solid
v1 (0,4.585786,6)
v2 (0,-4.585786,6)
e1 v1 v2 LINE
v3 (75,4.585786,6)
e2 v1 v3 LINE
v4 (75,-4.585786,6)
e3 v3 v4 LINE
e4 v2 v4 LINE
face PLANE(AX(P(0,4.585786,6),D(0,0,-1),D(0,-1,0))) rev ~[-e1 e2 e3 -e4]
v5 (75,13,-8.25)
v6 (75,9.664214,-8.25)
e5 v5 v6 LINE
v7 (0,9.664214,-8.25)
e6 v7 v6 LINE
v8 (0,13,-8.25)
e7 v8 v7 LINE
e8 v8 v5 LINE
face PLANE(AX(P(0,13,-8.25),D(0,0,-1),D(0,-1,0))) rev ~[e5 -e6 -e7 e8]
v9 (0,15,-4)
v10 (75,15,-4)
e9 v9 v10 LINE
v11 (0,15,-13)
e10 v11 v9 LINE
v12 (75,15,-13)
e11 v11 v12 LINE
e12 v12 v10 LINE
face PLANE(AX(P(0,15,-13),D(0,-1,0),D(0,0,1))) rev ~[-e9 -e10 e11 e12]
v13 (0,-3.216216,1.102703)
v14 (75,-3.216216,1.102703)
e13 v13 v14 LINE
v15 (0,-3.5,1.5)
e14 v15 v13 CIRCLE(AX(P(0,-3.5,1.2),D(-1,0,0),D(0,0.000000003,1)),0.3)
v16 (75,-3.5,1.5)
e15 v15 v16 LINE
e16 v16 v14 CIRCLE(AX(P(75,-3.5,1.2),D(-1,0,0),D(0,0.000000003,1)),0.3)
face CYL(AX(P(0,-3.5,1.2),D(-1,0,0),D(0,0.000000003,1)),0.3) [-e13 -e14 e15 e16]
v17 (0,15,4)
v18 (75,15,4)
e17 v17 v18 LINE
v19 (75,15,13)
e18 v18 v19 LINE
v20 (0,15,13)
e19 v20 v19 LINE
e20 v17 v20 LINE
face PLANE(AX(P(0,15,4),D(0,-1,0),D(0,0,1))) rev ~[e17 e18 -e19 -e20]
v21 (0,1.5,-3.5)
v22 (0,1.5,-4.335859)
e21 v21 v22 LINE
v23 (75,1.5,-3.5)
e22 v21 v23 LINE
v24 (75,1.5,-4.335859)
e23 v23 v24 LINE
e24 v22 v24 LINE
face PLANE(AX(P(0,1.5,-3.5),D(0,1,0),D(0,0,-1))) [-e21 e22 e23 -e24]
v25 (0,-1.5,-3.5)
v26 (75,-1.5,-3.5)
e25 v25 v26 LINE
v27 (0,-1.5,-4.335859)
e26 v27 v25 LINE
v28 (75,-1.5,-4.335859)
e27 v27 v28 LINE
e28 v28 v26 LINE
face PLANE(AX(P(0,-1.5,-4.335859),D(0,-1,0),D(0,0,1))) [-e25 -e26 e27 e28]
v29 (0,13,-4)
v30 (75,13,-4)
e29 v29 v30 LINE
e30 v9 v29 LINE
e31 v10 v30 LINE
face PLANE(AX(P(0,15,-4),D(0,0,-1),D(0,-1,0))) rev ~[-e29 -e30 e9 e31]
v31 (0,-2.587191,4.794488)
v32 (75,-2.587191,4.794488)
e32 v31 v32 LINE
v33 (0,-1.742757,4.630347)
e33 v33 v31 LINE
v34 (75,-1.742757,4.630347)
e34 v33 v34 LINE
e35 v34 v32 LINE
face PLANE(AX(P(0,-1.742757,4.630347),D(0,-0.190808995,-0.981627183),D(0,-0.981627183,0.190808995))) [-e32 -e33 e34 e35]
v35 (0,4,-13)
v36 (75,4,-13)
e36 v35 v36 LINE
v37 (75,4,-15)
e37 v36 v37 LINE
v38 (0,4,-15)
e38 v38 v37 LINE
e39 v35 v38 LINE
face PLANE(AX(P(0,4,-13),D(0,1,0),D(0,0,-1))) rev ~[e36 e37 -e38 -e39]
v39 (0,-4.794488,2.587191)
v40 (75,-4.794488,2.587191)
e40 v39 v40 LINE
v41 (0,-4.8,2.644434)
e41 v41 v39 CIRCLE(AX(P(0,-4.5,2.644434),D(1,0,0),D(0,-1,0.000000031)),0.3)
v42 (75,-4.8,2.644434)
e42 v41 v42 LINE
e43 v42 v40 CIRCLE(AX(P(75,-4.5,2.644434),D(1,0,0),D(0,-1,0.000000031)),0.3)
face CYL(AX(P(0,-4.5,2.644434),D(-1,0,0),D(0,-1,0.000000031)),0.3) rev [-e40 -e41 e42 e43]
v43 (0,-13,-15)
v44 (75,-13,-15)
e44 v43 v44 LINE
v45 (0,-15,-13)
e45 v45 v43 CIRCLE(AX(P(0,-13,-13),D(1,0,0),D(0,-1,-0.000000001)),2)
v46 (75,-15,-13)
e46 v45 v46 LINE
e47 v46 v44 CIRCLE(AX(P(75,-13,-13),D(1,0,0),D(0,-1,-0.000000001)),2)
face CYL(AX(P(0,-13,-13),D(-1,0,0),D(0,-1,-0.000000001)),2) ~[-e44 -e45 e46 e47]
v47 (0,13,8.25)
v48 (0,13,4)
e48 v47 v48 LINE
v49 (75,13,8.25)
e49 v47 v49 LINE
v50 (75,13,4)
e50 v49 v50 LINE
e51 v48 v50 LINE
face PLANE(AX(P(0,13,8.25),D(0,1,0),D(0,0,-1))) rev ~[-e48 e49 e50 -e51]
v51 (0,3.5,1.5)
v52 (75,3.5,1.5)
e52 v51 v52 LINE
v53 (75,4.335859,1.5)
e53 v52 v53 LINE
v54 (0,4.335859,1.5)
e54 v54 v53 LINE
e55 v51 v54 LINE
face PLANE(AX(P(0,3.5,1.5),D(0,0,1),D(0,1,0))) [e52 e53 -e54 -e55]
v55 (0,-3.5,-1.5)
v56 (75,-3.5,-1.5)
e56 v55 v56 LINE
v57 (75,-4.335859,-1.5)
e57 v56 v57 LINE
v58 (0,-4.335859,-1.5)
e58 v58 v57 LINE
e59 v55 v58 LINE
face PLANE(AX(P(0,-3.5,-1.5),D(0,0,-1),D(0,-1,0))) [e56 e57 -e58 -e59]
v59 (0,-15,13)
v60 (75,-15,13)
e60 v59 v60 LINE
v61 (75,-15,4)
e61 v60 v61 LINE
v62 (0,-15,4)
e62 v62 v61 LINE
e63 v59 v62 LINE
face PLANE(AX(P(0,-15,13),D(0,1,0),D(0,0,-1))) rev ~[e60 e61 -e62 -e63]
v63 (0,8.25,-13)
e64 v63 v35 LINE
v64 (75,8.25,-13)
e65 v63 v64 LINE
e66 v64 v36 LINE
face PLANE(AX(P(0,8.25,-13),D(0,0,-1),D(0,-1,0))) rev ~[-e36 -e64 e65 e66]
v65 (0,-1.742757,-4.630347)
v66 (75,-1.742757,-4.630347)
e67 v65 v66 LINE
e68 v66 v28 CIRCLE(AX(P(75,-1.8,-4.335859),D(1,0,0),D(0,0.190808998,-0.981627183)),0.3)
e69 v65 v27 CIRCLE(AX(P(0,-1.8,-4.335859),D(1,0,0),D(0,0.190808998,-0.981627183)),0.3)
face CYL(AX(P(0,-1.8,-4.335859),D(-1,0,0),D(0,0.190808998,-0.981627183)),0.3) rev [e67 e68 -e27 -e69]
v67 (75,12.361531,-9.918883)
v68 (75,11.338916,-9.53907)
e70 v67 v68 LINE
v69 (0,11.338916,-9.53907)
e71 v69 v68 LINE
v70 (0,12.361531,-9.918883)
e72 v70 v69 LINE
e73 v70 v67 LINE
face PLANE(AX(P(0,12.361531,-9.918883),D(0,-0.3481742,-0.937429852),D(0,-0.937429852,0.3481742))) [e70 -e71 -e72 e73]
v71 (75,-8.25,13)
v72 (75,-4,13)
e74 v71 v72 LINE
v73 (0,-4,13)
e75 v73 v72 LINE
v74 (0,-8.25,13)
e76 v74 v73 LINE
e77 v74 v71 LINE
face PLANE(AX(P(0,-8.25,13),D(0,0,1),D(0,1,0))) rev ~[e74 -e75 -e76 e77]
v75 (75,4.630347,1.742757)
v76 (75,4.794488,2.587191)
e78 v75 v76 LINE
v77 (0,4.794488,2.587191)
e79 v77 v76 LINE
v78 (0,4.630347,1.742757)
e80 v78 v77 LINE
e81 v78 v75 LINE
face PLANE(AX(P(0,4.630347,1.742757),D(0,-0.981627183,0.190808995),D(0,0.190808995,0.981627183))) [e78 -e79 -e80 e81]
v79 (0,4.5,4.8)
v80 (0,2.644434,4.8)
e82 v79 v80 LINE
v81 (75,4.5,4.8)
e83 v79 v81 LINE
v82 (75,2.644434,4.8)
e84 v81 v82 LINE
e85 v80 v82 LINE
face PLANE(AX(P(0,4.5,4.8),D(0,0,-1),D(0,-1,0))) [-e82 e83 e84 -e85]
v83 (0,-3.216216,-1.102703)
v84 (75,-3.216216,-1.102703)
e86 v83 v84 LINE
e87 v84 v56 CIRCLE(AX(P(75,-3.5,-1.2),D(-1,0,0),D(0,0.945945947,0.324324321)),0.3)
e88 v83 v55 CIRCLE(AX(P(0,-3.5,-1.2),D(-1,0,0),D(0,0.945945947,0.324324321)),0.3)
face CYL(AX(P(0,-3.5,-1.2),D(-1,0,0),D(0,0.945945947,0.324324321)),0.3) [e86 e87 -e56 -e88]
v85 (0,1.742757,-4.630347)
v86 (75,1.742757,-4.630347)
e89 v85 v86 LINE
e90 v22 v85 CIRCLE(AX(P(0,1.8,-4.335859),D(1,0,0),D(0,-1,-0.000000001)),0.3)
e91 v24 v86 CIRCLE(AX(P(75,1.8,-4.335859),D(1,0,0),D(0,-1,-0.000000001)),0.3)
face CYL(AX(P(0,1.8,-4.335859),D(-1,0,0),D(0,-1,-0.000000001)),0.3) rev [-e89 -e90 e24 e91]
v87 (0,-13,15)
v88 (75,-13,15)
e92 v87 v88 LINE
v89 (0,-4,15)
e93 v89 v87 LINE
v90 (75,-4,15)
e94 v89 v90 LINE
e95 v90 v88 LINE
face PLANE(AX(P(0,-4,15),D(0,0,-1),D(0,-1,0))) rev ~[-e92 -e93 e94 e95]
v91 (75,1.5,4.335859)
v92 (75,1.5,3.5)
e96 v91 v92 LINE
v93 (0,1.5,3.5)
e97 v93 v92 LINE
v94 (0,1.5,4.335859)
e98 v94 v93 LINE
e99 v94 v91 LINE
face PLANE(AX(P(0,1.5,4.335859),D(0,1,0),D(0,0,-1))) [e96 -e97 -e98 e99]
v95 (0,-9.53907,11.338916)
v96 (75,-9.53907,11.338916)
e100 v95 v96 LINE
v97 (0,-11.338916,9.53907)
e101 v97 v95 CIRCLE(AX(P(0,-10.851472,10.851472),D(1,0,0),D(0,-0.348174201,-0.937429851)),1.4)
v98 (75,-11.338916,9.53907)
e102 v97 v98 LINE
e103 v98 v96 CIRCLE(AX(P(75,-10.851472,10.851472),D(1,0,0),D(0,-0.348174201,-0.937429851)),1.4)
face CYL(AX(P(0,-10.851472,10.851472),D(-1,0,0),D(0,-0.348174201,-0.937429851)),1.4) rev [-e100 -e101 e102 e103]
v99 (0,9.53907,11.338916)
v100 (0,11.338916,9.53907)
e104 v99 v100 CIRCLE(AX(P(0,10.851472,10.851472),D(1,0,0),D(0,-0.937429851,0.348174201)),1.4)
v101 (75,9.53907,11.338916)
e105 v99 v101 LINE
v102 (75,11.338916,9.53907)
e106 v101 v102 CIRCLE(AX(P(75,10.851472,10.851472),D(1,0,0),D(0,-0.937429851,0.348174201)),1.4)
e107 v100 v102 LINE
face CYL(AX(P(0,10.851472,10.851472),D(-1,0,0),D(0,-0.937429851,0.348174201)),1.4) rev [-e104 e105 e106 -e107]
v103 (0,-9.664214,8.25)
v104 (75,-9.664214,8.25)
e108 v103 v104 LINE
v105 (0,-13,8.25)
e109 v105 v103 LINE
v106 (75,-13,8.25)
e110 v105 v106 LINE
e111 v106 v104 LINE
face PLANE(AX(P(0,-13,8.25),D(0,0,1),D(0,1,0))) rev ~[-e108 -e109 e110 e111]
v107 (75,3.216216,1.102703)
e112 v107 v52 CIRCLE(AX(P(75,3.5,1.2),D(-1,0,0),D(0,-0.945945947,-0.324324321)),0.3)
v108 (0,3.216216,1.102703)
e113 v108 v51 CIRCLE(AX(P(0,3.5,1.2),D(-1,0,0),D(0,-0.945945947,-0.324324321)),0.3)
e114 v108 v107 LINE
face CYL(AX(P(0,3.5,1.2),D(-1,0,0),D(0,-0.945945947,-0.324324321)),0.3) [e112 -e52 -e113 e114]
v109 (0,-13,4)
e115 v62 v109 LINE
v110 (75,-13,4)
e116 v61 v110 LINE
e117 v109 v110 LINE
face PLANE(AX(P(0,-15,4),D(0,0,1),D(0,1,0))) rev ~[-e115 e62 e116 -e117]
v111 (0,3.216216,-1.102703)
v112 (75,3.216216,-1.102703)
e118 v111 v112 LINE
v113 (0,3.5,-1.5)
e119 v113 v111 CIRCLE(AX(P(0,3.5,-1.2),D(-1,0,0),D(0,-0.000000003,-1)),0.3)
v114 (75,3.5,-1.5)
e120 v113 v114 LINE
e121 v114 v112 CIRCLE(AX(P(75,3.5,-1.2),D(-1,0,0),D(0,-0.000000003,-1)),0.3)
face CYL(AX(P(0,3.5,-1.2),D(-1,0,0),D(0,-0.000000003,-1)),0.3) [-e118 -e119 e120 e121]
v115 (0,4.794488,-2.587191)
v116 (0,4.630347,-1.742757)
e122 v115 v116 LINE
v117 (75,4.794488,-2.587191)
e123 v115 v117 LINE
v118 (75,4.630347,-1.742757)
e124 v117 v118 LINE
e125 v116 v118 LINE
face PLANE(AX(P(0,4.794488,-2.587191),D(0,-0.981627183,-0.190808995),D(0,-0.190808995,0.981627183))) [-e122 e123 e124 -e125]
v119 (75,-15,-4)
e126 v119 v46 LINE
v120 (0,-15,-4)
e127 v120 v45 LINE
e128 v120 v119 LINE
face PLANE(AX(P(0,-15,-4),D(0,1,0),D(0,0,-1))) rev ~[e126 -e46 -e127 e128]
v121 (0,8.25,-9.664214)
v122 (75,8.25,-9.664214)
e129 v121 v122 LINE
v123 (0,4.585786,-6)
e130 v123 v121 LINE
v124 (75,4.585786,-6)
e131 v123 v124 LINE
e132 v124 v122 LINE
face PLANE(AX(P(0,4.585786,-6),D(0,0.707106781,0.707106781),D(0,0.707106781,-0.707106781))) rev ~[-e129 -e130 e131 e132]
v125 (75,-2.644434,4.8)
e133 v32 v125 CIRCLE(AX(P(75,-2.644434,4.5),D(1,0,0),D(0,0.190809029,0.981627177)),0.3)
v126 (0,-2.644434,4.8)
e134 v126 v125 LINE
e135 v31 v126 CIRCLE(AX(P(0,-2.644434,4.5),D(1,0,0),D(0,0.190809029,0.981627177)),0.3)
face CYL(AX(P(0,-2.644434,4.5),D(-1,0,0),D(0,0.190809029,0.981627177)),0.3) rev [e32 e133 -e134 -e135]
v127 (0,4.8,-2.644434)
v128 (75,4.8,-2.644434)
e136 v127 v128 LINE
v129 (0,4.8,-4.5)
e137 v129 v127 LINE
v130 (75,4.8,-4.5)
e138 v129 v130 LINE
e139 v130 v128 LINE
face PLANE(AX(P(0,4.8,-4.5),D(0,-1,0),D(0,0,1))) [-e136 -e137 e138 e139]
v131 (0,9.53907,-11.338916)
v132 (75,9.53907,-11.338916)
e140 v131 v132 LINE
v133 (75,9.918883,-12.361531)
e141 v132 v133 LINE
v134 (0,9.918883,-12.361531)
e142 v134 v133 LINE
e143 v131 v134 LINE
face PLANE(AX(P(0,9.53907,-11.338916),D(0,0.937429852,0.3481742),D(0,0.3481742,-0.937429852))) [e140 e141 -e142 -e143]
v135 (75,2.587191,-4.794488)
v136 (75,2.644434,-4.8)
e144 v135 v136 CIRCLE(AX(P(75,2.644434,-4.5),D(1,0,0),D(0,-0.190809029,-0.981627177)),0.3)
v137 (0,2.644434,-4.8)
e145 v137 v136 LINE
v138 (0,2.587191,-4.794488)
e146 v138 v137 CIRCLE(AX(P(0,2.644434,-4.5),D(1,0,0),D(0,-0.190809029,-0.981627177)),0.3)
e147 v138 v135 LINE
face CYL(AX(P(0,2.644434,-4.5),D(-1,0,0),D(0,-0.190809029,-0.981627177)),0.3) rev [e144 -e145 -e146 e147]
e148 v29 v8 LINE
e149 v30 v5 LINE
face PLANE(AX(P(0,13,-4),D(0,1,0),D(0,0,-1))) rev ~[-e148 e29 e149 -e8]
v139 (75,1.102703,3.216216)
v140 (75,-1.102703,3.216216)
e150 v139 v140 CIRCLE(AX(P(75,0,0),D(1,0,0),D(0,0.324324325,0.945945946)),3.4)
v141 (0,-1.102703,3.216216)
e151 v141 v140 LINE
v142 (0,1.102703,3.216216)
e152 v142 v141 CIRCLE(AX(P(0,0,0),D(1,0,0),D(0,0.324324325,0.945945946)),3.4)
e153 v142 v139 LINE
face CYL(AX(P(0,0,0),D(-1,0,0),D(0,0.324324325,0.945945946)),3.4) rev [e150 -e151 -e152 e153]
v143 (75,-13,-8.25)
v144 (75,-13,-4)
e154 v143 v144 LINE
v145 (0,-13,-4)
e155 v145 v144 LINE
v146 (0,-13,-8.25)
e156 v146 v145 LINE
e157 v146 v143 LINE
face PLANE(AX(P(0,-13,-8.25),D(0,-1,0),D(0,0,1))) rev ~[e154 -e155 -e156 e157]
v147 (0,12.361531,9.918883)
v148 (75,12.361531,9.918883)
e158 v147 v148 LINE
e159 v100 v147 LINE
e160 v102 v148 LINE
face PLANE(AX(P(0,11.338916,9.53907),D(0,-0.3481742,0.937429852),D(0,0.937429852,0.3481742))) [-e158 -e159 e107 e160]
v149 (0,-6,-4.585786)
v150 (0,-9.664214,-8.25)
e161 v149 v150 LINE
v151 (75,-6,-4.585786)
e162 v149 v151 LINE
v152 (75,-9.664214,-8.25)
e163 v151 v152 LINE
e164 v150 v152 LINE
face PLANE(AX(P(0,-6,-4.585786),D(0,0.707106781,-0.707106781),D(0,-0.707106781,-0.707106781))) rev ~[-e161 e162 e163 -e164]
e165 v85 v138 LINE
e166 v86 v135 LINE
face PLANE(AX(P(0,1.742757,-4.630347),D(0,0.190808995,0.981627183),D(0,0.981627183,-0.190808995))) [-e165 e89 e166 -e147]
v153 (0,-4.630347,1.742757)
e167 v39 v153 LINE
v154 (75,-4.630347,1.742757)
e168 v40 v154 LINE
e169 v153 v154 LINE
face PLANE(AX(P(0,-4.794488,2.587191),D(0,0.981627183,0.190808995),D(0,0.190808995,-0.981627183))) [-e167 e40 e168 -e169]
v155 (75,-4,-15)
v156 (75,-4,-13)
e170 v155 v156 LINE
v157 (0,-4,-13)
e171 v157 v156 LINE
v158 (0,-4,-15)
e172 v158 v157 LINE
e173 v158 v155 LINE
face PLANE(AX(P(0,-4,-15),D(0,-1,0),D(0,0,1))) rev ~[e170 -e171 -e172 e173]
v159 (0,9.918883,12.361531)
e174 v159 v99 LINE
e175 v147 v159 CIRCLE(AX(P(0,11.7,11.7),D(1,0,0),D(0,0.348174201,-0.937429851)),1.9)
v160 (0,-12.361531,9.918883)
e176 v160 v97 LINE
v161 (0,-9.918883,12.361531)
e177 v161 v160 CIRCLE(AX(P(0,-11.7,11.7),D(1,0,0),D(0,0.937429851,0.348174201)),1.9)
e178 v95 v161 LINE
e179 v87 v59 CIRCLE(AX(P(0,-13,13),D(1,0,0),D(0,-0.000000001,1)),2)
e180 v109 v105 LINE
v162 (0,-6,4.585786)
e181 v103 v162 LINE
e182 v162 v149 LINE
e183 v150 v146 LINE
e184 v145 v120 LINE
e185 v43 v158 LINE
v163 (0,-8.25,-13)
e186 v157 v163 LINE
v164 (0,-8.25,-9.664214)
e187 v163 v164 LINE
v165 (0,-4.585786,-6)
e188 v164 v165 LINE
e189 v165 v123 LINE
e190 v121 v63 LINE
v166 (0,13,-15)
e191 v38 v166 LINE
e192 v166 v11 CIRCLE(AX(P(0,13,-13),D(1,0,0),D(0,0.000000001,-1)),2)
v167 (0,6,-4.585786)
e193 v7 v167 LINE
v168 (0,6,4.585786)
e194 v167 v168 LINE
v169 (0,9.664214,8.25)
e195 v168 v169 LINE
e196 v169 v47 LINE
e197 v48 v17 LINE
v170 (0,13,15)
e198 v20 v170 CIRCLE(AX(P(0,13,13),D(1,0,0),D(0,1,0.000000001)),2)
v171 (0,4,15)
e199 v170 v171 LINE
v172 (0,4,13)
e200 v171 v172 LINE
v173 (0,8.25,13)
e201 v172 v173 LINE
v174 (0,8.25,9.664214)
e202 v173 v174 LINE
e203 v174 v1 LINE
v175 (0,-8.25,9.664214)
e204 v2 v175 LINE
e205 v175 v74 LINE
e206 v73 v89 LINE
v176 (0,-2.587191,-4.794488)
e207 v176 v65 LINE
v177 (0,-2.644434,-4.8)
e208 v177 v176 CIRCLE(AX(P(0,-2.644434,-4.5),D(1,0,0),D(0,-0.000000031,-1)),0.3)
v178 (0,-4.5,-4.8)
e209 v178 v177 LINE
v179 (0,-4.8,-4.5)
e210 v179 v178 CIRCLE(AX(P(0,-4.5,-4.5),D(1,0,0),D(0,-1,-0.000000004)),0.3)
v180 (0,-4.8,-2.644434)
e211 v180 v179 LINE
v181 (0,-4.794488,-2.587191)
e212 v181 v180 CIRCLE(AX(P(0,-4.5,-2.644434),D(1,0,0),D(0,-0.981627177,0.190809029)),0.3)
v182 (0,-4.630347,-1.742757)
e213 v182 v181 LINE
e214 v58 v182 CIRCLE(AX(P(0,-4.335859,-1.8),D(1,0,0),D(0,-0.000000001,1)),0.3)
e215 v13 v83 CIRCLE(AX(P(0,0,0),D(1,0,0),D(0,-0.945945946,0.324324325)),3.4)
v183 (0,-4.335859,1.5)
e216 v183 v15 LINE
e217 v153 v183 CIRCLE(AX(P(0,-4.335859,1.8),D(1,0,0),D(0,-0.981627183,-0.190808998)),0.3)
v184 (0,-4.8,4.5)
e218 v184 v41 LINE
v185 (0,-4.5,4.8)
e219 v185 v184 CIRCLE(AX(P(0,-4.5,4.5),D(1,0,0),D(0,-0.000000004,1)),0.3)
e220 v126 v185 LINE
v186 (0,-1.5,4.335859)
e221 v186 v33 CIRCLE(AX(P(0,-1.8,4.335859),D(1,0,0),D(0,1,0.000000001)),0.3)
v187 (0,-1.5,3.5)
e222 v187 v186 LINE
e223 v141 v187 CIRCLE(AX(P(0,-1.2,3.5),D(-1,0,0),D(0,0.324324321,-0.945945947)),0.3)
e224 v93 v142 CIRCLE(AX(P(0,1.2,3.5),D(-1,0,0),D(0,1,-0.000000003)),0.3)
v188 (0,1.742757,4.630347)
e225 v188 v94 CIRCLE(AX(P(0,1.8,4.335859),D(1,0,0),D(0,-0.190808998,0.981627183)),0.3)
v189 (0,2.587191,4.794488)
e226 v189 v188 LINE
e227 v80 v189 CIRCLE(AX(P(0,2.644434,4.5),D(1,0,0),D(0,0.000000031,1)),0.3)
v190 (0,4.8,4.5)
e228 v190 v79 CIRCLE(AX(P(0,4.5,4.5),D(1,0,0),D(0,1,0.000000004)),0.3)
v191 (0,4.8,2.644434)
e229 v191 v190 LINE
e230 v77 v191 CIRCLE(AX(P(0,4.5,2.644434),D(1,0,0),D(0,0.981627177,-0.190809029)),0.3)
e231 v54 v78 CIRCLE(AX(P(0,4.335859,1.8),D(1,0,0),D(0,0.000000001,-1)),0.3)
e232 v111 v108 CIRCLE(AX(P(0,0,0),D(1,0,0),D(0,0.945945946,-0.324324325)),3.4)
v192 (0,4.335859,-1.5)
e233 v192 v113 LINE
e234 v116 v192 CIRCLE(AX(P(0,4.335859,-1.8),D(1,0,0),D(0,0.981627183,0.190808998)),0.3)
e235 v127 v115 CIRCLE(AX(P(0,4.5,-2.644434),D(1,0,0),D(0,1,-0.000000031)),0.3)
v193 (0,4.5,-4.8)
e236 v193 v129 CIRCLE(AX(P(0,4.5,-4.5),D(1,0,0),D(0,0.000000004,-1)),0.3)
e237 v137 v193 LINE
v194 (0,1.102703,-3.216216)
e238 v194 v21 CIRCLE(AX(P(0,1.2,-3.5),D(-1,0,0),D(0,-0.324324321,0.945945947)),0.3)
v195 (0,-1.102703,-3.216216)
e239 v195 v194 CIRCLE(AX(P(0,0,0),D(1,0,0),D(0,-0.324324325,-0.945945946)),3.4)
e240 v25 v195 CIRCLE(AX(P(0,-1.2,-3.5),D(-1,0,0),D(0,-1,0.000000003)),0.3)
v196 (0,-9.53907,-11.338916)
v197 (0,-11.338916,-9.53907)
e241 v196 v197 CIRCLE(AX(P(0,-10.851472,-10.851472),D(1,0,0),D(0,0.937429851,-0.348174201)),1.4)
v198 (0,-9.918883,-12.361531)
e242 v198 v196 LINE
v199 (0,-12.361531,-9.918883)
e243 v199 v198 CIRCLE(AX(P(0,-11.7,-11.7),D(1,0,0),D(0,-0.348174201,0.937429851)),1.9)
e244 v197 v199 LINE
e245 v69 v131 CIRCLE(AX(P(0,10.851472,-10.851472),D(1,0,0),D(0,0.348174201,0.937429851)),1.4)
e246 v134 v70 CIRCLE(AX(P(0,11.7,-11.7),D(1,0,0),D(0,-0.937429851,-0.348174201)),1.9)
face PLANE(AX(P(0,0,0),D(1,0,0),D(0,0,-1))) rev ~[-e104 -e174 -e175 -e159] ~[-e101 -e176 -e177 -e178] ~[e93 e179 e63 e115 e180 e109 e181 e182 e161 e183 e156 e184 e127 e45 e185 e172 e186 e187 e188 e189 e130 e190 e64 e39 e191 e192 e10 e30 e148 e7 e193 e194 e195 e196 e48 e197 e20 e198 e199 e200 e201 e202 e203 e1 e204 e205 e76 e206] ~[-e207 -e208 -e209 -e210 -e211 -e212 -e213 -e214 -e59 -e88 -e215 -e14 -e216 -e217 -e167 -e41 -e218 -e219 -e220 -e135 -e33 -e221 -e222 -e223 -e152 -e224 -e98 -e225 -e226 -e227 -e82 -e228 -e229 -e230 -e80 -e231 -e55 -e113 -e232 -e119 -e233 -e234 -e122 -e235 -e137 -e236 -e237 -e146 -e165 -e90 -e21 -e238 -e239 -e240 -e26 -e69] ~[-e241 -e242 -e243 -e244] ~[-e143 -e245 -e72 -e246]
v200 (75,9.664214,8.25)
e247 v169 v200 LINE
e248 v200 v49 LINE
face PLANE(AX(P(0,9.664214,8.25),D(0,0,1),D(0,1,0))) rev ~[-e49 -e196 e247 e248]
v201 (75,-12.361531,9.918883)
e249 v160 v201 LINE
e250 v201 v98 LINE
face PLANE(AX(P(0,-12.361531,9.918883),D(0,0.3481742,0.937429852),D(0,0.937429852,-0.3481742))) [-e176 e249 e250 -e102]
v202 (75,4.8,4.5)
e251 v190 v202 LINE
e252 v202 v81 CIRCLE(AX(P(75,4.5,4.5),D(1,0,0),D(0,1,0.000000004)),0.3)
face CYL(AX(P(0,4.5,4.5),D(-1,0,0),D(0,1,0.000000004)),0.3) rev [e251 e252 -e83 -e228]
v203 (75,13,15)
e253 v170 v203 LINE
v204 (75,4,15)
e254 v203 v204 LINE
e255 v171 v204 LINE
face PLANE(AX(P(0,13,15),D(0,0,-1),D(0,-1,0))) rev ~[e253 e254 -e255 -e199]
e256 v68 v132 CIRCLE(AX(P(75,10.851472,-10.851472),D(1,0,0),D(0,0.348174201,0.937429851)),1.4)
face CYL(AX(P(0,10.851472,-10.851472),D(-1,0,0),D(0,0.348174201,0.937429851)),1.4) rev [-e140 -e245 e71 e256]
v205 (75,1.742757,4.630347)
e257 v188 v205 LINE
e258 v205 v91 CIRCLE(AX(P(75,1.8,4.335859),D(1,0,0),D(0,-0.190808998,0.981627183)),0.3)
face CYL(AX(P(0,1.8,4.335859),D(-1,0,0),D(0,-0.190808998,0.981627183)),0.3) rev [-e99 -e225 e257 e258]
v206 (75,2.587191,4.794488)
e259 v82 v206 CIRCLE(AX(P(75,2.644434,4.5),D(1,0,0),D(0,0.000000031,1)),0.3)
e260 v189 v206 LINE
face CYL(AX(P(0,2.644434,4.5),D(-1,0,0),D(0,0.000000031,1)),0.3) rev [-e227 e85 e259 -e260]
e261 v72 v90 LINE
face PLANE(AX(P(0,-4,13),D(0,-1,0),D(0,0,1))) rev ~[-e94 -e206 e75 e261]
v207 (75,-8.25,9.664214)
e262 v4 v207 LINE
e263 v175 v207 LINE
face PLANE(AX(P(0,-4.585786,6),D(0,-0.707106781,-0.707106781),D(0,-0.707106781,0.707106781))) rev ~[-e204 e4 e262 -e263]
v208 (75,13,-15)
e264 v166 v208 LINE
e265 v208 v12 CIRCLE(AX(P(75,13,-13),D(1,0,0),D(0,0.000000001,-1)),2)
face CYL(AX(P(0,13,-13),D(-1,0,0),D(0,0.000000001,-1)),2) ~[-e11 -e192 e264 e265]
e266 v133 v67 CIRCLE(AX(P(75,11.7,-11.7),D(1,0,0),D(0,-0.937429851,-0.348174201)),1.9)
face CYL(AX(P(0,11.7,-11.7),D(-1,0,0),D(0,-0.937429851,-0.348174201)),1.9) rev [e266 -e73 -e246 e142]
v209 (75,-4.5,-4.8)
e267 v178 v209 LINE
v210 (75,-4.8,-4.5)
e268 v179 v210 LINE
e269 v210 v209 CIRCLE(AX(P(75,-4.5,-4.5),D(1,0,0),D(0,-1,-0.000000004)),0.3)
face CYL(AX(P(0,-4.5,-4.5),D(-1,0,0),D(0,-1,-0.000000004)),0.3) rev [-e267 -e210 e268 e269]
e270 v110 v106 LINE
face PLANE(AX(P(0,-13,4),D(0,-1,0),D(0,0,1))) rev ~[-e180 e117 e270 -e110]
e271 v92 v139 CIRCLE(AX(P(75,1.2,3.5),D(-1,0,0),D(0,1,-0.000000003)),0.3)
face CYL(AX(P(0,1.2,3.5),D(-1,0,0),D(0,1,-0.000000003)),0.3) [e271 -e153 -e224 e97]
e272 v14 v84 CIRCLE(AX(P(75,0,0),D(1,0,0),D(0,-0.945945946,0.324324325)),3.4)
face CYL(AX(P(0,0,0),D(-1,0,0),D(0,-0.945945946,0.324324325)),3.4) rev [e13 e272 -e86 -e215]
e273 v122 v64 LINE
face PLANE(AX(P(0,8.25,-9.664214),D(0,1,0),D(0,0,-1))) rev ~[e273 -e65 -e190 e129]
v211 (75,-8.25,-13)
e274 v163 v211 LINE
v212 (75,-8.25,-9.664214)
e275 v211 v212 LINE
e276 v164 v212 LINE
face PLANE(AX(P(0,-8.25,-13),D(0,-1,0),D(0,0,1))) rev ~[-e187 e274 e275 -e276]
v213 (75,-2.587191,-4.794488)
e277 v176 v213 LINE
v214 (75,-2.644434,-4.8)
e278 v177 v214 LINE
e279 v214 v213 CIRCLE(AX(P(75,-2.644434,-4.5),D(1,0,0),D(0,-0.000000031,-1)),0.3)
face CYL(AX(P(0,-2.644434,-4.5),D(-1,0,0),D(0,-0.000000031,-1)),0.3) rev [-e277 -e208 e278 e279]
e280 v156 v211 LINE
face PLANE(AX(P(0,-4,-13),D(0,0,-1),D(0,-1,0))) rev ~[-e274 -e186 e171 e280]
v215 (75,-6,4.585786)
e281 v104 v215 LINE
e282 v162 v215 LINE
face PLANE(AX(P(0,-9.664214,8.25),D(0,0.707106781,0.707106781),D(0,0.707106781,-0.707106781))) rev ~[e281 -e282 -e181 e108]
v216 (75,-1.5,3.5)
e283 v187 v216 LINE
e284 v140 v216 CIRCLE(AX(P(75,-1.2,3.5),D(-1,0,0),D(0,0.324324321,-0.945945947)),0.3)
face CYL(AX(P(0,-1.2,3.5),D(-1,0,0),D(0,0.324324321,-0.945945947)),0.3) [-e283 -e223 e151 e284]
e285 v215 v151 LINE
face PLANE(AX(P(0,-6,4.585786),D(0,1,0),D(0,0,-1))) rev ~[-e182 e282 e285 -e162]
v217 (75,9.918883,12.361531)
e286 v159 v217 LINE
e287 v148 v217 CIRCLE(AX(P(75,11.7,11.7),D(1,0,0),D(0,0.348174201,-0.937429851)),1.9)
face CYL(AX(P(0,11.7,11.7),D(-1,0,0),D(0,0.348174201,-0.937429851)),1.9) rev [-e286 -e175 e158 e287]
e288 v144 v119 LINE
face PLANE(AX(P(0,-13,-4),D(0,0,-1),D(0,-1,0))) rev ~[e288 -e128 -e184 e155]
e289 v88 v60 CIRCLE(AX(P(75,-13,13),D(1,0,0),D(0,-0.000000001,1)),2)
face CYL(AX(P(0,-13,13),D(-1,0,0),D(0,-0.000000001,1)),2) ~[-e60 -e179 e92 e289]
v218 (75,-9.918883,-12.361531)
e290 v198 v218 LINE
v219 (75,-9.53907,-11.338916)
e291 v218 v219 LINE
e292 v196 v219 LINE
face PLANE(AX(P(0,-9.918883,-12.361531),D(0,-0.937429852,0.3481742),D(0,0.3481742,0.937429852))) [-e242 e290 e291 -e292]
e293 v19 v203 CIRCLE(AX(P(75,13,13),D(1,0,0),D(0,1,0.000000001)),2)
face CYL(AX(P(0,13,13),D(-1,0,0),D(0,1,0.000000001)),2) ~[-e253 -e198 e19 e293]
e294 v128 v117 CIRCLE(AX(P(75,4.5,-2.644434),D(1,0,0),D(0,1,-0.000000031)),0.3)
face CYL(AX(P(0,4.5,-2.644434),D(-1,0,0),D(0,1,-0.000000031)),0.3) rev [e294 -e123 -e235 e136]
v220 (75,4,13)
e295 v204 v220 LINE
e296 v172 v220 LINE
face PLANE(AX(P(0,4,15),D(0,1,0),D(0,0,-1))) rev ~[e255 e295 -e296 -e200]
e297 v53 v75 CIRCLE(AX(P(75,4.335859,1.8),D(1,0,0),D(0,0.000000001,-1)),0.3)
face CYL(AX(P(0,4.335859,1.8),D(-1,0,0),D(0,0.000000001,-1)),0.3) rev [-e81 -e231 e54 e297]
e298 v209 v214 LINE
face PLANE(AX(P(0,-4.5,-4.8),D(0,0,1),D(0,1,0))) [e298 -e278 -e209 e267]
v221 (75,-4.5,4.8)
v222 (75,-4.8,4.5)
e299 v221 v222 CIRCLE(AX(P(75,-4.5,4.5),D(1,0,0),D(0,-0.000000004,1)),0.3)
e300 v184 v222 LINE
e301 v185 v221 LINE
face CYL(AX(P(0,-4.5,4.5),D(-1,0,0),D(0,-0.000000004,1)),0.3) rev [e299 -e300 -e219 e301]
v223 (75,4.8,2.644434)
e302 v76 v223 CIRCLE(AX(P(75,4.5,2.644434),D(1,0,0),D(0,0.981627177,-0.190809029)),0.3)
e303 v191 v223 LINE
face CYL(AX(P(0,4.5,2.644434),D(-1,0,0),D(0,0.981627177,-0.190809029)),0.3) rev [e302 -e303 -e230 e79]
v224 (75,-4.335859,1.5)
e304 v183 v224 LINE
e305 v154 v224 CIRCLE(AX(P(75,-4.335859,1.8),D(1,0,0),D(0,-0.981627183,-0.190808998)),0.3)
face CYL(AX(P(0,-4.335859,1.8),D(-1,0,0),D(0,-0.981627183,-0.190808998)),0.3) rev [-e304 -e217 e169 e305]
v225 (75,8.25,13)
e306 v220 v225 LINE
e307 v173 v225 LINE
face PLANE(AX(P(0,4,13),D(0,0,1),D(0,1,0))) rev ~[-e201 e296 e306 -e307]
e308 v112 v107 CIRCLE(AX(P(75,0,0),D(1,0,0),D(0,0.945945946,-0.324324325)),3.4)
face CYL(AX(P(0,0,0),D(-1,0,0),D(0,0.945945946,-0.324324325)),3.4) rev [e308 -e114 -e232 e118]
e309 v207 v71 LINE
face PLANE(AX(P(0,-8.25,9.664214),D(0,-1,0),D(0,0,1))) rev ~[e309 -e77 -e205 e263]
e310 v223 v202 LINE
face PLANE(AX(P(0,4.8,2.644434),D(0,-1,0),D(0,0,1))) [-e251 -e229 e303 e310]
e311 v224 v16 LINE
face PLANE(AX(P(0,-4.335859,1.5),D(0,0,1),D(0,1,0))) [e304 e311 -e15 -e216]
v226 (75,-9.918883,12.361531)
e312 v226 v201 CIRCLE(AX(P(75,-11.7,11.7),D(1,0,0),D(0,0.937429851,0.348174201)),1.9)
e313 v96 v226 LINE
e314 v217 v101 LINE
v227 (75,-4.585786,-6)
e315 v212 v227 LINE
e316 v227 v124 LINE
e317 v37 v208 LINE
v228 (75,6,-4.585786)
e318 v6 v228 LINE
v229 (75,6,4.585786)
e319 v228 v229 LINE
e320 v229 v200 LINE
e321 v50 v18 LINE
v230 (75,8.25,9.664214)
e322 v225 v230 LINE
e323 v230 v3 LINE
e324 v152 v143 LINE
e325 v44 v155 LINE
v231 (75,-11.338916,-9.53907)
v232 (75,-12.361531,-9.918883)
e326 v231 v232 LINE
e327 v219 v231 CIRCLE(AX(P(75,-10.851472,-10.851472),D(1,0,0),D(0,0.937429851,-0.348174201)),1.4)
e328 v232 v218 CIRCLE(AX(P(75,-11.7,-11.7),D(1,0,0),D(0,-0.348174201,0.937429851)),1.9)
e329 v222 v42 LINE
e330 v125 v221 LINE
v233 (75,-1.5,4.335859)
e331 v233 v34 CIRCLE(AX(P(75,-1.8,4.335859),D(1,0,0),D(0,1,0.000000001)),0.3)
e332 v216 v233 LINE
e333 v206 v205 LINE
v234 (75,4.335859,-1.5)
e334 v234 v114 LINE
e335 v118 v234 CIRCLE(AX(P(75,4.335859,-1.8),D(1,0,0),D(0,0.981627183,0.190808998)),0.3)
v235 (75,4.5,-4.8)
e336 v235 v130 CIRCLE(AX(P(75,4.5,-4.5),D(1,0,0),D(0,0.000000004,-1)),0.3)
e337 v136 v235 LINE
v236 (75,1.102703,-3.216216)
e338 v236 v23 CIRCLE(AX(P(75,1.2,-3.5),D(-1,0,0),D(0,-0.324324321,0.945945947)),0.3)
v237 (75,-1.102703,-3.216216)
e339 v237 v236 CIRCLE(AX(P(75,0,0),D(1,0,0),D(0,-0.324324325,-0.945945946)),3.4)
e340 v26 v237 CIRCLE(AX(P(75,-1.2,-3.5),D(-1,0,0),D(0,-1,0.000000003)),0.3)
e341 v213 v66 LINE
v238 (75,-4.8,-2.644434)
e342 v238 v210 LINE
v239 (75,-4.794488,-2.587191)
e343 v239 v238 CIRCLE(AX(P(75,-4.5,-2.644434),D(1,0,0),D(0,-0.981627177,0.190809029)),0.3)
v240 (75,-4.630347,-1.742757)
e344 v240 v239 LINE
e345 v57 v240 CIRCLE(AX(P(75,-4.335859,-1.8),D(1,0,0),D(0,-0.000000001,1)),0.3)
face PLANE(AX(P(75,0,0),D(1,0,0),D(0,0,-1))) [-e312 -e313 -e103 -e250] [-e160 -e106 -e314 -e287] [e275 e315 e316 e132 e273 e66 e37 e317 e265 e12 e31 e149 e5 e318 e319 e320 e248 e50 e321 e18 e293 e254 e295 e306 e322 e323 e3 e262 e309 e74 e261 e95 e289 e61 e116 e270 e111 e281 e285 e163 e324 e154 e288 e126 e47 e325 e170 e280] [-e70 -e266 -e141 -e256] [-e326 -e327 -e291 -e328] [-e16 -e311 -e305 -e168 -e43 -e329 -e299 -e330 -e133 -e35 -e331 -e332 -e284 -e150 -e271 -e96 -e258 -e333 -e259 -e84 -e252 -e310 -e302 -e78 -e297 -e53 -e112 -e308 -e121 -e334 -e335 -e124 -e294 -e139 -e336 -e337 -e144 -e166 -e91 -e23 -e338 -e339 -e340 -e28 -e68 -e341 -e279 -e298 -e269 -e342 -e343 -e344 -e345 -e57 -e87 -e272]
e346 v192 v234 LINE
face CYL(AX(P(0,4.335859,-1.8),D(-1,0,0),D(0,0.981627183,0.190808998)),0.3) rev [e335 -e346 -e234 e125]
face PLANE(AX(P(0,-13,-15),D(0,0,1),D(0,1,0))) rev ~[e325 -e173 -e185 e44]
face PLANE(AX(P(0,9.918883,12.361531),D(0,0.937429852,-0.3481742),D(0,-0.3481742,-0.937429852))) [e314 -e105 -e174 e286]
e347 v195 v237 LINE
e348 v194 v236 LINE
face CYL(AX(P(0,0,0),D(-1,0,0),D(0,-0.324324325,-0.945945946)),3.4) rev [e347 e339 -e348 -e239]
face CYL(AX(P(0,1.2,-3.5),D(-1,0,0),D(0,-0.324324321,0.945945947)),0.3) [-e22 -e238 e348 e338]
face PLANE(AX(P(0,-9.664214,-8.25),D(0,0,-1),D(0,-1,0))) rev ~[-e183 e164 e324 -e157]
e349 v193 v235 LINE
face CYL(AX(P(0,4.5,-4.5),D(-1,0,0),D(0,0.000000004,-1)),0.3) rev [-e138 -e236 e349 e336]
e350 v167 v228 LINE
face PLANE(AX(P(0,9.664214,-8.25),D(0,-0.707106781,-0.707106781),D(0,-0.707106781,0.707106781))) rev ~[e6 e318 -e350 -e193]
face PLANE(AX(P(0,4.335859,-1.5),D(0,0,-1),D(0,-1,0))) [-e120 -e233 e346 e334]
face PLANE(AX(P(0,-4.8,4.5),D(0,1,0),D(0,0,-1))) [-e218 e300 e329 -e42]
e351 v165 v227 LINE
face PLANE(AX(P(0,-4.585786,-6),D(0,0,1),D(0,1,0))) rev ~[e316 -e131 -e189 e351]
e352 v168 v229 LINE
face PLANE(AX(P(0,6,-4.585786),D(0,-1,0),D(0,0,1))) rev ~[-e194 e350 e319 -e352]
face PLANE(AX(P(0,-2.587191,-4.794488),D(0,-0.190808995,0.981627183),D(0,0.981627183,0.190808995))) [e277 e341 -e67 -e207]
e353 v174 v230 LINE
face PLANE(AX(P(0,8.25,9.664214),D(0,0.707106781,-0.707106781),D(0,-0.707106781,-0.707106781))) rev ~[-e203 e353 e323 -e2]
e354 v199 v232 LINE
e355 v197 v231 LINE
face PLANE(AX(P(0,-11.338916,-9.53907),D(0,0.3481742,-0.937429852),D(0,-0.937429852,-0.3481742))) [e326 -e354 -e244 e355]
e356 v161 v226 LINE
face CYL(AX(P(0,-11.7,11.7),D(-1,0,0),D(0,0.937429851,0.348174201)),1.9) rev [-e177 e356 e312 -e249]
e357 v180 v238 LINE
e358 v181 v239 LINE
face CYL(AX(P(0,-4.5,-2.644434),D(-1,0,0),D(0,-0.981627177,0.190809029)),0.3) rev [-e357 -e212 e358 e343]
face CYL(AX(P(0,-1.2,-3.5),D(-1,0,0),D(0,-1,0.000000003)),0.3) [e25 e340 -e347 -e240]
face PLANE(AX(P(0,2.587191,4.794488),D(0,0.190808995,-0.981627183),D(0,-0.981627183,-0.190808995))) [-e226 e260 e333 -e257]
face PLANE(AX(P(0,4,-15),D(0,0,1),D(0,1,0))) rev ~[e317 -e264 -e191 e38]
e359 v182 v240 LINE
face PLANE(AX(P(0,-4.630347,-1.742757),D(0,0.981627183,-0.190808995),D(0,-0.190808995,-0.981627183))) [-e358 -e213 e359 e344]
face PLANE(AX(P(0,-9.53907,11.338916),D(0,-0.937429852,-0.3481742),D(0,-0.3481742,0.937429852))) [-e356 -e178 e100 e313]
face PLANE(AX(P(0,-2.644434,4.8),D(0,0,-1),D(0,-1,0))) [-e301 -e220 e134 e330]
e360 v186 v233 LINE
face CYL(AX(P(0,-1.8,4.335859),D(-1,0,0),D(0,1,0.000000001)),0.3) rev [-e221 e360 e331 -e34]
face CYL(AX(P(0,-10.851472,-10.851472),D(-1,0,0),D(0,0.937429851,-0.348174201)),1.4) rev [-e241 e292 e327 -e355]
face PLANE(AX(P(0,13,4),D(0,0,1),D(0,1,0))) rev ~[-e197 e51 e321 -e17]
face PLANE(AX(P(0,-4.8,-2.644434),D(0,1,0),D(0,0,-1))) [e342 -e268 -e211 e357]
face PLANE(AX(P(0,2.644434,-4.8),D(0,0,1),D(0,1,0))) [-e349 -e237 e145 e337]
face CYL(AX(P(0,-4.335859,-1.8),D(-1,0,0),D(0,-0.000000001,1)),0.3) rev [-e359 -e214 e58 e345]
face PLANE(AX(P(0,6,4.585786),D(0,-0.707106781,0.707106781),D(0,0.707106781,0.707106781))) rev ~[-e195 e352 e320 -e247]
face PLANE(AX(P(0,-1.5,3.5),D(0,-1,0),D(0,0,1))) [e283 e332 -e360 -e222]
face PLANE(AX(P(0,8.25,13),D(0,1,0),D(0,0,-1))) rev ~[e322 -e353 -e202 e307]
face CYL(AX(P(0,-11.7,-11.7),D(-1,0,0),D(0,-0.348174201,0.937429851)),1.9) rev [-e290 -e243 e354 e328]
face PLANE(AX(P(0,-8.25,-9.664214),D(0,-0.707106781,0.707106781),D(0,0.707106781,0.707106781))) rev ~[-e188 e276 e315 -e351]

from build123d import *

# Parameters (mm, degrees)
BOSS_EXTRUDE1_DEPTH = 75


with BuildPart() as part:
    # Sketch1 → Boss-Extrude1 (new body)
    with BuildSketch(Plane(origin=(0, 0, 0), x_dir=(0, 0, -1), z_dir=(1, 0, 0))):
        with BuildLine():
            Line((-15, 13), (-15, 4))
            Line((-15, 4), (-13, 4))
            Line((-13, 4), (-13, 8.25))
            Line((-13, 8.25), (-9.664213562, 8.25))
            Line((-9.664213562, 8.25), (-6, 4.585786438))
            Line((-6, 4.585786438), (-6, -4.585786438))
            Line((-6, -4.585786438), (-9.664213562, -8.25))
            Line((-9.664213562, -8.25), (-13, -8.25))
            Line((-13, -8.25), (-13, -4))
            Line((-13, -4), (-15, -4))
            Line((-15, -4), (-15, -13))
            ThreePointArc((-15, -13), (-14.414213562, -14.414213562), (-13, -15))
            Line((-13, -15), (-4, -15))
            Line((-4, -15), (-4, -13))
            Line((-4, -13), (-8.25, -13))
            Line((-8.25, -13), (-8.25, -9.664213562))
            Line((-8.25, -9.664213562), (-4.585786438, -6))
            Line((-4.585786438, -6), (4.585786438, -6))
            Line((4.585786438, -6), (8.25, -9.664213562))
            Line((8.25, -9.664213562), (8.25, -13))
            Line((8.25, -13), (4, -13))
            Line((4, -13), (4, -15))
            Line((4, -15), (13, -15))
            ThreePointArc((13, -15), (14.414213562, -14.414213562), (15, -13))
            Line((15, -13), (15, -4))
            Line((15, -4), (13, -4))
            Line((13, -4), (13, -8.25))
            Line((13, -8.25), (9.664213562, -8.25))
            Line((9.664213562, -8.25), (6, -4.585786438))
            Line((6, -4.585786438), (6, 4.585786438))
            Line((6, 4.585786438), (9.664213562, 8.25))
            Line((9.664213562, 8.25), (13, 8.25))
            Line((13, 8.25), (13, 4))
            Line((13, 4), (15, 4))
            Line((15, 4), (15, 13))
            ThreePointArc((15, 13), (14.414213562, 14.414213562), (13, 15))
            Line((13, 15), (4, 15))
            Line((4, 15), (4, 13))
            Line((4, 13), (8.25, 13))
            Line((8.25, 13), (8.25, 9.664213562))
            Line((8.25, 9.664213562), (4.585786438, 6))
            Line((4.585786438, 6), (-4.585786438, 6))
            Line((-4.585786438, 6), (-8.25, 9.664213562))
            Line((-8.25, 9.664213562), (-8.25, 13))
            Line((-8.25, 13), (-4, 13))
            Line((-4, 13), (-4, 15))
            Line((-4, 15), (-13, 15))
            ThreePointArc((-13, 15), (-14.414213562, 14.414213562), (-15, 13))
        make_face()
        with BuildLine():
            Line((-9.539070071, 11.338915743), (-9.918883282, 12.361530981))
            ThreePointArc((-9.918883282, 12.361530981), (-13.043502884, 13.043502884), (-12.361530981, 9.918883282))
            Line((-12.361530981, 9.918883282), (-11.338915743, 9.539070071))
            ThreePointArc((-11.338915743, 9.539070071), (-9.861522369, 9.861522369), (-9.539070071, 11.338915743))
        make_face(mode=Mode.SUBTRACT)
        with BuildLine():
            Line((9.918883282, 12.361530981), (9.539070071, 11.338915743))
            ThreePointArc((9.539070071, 11.338915743), (9.861522369, 9.861522369), (11.338915743, 9.539070071))
            Line((11.338915743, 9.539070071), (12.361530981, 9.918883282))
            ThreePointArc((12.361530981, 9.918883282), (13.043502884, 13.043502884), (9.918883282, 12.361530981))
        make_face(mode=Mode.SUBTRACT)
        with BuildLine():
            Line((12.361530981, -9.918883282), (11.338915743, -9.539070071))
            ThreePointArc((11.338915743, -9.539070071), (9.861522369, -9.861522369), (9.539070071, -11.338915743))
            Line((9.539070071, -11.338915743), (9.918883282, -12.361530981))
            ThreePointArc((9.918883282, -12.361530981), (13.043502884, -13.043502884), (12.361530981, -9.918883282))
        make_face(mode=Mode.SUBTRACT)
        with BuildLine():
            Line((-11.338915743, -9.539070071), (-12.361530981, -9.918883282))
            ThreePointArc((-12.361530981, -9.918883282), (-13.043502884, -13.043502884), (-9.918883282, -12.361530981))
            Line((-9.918883282, -12.361530981), (-9.539070071, -11.338915743))
            ThreePointArc((-9.539070071, -11.338915743), (-9.861522369, -9.861522369), (-11.338915743, -9.539070071))
        make_face(mode=Mode.SUBTRACT)
        with BuildLine():
            Line((-4.8, -2.644433572), (-4.8, -4.5))
            ThreePointArc((-4.8, -4.5), (-4.712132034, -4.712132034), (-4.5, -4.8))
            Line((-4.5, -4.8), (-2.644433572, -4.8))
            ThreePointArc((-2.644433572, -4.8), (-2.615679847, -4.79861886), (-2.587190874, -4.794488155))
            Line((-2.587190874, -4.794488155), (-1.742757301, -4.630346896))
            ThreePointArc((-1.742757301, -4.630346896), (-1.568512625, -4.526682207), (-1.5, -4.335858741))
            Line((-1.5, -4.335858741), (-1.5, -3.5))
            ThreePointArc((-1.5, -3.5), (-1.374371458, -3.255879959), (-1.102702703, -3.216216216))
            ThreePointArc((-1.102702703, -3.216216216), (0, -3.4), (1.102702703, -3.216216216))
            ThreePointArc((1.102702703, -3.216216216), (1.374371458, -3.255879959), (1.5, -3.5))
            Line((1.5, -3.5), (1.5, -4.335858741))
            ThreePointArc((1.5, -4.335858741), (1.568512625, -4.526682207), (1.742757301, -4.630346896))
            Line((1.742757301, -4.630346896), (2.587190874, -4.794488155))
            ThreePointArc((2.587190874, -4.794488155), (2.615679847, -4.79861886), (2.644433572, -4.8))
            Line((2.644433572, -4.8), (4.5, -4.8))
            ThreePointArc((4.5, -4.8), (4.712132034, -4.712132034), (4.8, -4.5))
            Line((4.8, -4.5), (4.8, -2.644433572))
            ThreePointArc((4.8, -2.644433572), (4.79861886, -2.615679847), (4.794488155, -2.587190874))
            Line((4.794488155, -2.587190874), (4.630346896, -1.742757301))
            ThreePointArc((4.630346896, -1.742757301), (4.526682207, -1.568512625), (4.335858741, -1.5))
            Line((4.335858741, -1.5), (3.5, -1.5))
            ThreePointArc((3.5, -1.5), (3.255879959, -1.374371458), (3.216216216, -1.102702703))
            ThreePointArc((3.216216216, -1.102702703), (3.4, 0), (3.216216216, 1.102702703))
            ThreePointArc((3.216216216, 1.102702703), (3.255879959, 1.374371458), (3.5, 1.5))
            Line((3.5, 1.5), (4.335858741, 1.5))
            ThreePointArc((4.335858741, 1.5), (4.526682207, 1.568512625), (4.630346896, 1.742757301))
            Line((4.630346896, 1.742757301), (4.794488155, 2.587190874))
            ThreePointArc((4.794488155, 2.587190874), (4.79861886, 2.615679847), (4.8, 2.644433572))
            Line((4.8, 2.644433572), (4.8, 4.5))
            ThreePointArc((4.8, 4.5), (4.712132034, 4.712132034), (4.5, 4.8))
            Line((4.5, 4.8), (2.644433572, 4.8))
            ThreePointArc((2.644433572, 4.8), (2.615679847, 4.79861886), (2.587190874, 4.794488155))
            Line((2.587190874, 4.794488155), (1.742757301, 4.630346896))
            ThreePointArc((1.742757301, 4.630346896), (1.568512625, 4.526682207), (1.5, 4.335858741))
            Line((1.5, 4.335858741), (1.5, 3.5))
            ThreePointArc((1.5, 3.5), (1.374371458, 3.255879959), (1.102702703, 3.216216216))
            ThreePointArc((1.102702703, 3.216216216), (0, 3.4), (-1.102702703, 3.216216216))
            ThreePointArc((-1.102702703, 3.216216216), (-1.374371458, 3.255879959), (-1.5, 3.5))
            Line((-1.5, 3.5), (-1.5, 4.335858741))
            ThreePointArc((-1.5, 4.335858741), (-1.568512625, 4.526682207), (-1.742757301, 4.630346896))
            Line((-1.742757301, 4.630346896), (-2.587190874, 4.794488155))
            ThreePointArc((-2.587190874, 4.794488155), (-2.615679847, 4.79861886), (-2.644433572, 4.8))
            Line((-2.644433572, 4.8), (-4.5, 4.8))
            ThreePointArc((-4.5, 4.8), (-4.712132034, 4.712132034), (-4.8, 4.5))
            Line((-4.8, 4.5), (-4.8, 2.644433572))
            ThreePointArc((-4.8, 2.644433572), (-4.79861886, 2.615679847), (-4.794488155, 2.587190874))
            Line((-4.794488155, 2.587190874), (-4.630346896, 1.742757301))
            ThreePointArc((-4.630346896, 1.742757301), (-4.526682207, 1.568512625), (-4.335858741, 1.5))
            Line((-4.335858741, 1.5), (-3.5, 1.5))
            ThreePointArc((-3.5, 1.5), (-3.255879959, 1.374371458), (-3.216216216, 1.102702703))
            ThreePointArc((-3.216216216, 1.102702703), (-3.4, 0), (-3.216216216, -1.102702703))
            ThreePointArc((-3.216216216, -1.102702703), (-3.255879959, -1.374371458), (-3.5, -1.5))
            Line((-3.5, -1.5), (-4.335858741, -1.5))
            ThreePointArc((-4.335858741, -1.5), (-4.526682207, -1.568512625), (-4.630346896, -1.742757301))
            Line((-4.630346896, -1.742757301), (-4.794488155, -2.587190874))
            ThreePointArc((-4.794488155, -2.587190874), (-4.79861886, -2.615679847), (-4.8, -2.644433572))
        make_face(mode=Mode.SUBTRACT)
    extrude(amount=BOSS_EXTRUDE1_DEPTH)


solid = part.part
